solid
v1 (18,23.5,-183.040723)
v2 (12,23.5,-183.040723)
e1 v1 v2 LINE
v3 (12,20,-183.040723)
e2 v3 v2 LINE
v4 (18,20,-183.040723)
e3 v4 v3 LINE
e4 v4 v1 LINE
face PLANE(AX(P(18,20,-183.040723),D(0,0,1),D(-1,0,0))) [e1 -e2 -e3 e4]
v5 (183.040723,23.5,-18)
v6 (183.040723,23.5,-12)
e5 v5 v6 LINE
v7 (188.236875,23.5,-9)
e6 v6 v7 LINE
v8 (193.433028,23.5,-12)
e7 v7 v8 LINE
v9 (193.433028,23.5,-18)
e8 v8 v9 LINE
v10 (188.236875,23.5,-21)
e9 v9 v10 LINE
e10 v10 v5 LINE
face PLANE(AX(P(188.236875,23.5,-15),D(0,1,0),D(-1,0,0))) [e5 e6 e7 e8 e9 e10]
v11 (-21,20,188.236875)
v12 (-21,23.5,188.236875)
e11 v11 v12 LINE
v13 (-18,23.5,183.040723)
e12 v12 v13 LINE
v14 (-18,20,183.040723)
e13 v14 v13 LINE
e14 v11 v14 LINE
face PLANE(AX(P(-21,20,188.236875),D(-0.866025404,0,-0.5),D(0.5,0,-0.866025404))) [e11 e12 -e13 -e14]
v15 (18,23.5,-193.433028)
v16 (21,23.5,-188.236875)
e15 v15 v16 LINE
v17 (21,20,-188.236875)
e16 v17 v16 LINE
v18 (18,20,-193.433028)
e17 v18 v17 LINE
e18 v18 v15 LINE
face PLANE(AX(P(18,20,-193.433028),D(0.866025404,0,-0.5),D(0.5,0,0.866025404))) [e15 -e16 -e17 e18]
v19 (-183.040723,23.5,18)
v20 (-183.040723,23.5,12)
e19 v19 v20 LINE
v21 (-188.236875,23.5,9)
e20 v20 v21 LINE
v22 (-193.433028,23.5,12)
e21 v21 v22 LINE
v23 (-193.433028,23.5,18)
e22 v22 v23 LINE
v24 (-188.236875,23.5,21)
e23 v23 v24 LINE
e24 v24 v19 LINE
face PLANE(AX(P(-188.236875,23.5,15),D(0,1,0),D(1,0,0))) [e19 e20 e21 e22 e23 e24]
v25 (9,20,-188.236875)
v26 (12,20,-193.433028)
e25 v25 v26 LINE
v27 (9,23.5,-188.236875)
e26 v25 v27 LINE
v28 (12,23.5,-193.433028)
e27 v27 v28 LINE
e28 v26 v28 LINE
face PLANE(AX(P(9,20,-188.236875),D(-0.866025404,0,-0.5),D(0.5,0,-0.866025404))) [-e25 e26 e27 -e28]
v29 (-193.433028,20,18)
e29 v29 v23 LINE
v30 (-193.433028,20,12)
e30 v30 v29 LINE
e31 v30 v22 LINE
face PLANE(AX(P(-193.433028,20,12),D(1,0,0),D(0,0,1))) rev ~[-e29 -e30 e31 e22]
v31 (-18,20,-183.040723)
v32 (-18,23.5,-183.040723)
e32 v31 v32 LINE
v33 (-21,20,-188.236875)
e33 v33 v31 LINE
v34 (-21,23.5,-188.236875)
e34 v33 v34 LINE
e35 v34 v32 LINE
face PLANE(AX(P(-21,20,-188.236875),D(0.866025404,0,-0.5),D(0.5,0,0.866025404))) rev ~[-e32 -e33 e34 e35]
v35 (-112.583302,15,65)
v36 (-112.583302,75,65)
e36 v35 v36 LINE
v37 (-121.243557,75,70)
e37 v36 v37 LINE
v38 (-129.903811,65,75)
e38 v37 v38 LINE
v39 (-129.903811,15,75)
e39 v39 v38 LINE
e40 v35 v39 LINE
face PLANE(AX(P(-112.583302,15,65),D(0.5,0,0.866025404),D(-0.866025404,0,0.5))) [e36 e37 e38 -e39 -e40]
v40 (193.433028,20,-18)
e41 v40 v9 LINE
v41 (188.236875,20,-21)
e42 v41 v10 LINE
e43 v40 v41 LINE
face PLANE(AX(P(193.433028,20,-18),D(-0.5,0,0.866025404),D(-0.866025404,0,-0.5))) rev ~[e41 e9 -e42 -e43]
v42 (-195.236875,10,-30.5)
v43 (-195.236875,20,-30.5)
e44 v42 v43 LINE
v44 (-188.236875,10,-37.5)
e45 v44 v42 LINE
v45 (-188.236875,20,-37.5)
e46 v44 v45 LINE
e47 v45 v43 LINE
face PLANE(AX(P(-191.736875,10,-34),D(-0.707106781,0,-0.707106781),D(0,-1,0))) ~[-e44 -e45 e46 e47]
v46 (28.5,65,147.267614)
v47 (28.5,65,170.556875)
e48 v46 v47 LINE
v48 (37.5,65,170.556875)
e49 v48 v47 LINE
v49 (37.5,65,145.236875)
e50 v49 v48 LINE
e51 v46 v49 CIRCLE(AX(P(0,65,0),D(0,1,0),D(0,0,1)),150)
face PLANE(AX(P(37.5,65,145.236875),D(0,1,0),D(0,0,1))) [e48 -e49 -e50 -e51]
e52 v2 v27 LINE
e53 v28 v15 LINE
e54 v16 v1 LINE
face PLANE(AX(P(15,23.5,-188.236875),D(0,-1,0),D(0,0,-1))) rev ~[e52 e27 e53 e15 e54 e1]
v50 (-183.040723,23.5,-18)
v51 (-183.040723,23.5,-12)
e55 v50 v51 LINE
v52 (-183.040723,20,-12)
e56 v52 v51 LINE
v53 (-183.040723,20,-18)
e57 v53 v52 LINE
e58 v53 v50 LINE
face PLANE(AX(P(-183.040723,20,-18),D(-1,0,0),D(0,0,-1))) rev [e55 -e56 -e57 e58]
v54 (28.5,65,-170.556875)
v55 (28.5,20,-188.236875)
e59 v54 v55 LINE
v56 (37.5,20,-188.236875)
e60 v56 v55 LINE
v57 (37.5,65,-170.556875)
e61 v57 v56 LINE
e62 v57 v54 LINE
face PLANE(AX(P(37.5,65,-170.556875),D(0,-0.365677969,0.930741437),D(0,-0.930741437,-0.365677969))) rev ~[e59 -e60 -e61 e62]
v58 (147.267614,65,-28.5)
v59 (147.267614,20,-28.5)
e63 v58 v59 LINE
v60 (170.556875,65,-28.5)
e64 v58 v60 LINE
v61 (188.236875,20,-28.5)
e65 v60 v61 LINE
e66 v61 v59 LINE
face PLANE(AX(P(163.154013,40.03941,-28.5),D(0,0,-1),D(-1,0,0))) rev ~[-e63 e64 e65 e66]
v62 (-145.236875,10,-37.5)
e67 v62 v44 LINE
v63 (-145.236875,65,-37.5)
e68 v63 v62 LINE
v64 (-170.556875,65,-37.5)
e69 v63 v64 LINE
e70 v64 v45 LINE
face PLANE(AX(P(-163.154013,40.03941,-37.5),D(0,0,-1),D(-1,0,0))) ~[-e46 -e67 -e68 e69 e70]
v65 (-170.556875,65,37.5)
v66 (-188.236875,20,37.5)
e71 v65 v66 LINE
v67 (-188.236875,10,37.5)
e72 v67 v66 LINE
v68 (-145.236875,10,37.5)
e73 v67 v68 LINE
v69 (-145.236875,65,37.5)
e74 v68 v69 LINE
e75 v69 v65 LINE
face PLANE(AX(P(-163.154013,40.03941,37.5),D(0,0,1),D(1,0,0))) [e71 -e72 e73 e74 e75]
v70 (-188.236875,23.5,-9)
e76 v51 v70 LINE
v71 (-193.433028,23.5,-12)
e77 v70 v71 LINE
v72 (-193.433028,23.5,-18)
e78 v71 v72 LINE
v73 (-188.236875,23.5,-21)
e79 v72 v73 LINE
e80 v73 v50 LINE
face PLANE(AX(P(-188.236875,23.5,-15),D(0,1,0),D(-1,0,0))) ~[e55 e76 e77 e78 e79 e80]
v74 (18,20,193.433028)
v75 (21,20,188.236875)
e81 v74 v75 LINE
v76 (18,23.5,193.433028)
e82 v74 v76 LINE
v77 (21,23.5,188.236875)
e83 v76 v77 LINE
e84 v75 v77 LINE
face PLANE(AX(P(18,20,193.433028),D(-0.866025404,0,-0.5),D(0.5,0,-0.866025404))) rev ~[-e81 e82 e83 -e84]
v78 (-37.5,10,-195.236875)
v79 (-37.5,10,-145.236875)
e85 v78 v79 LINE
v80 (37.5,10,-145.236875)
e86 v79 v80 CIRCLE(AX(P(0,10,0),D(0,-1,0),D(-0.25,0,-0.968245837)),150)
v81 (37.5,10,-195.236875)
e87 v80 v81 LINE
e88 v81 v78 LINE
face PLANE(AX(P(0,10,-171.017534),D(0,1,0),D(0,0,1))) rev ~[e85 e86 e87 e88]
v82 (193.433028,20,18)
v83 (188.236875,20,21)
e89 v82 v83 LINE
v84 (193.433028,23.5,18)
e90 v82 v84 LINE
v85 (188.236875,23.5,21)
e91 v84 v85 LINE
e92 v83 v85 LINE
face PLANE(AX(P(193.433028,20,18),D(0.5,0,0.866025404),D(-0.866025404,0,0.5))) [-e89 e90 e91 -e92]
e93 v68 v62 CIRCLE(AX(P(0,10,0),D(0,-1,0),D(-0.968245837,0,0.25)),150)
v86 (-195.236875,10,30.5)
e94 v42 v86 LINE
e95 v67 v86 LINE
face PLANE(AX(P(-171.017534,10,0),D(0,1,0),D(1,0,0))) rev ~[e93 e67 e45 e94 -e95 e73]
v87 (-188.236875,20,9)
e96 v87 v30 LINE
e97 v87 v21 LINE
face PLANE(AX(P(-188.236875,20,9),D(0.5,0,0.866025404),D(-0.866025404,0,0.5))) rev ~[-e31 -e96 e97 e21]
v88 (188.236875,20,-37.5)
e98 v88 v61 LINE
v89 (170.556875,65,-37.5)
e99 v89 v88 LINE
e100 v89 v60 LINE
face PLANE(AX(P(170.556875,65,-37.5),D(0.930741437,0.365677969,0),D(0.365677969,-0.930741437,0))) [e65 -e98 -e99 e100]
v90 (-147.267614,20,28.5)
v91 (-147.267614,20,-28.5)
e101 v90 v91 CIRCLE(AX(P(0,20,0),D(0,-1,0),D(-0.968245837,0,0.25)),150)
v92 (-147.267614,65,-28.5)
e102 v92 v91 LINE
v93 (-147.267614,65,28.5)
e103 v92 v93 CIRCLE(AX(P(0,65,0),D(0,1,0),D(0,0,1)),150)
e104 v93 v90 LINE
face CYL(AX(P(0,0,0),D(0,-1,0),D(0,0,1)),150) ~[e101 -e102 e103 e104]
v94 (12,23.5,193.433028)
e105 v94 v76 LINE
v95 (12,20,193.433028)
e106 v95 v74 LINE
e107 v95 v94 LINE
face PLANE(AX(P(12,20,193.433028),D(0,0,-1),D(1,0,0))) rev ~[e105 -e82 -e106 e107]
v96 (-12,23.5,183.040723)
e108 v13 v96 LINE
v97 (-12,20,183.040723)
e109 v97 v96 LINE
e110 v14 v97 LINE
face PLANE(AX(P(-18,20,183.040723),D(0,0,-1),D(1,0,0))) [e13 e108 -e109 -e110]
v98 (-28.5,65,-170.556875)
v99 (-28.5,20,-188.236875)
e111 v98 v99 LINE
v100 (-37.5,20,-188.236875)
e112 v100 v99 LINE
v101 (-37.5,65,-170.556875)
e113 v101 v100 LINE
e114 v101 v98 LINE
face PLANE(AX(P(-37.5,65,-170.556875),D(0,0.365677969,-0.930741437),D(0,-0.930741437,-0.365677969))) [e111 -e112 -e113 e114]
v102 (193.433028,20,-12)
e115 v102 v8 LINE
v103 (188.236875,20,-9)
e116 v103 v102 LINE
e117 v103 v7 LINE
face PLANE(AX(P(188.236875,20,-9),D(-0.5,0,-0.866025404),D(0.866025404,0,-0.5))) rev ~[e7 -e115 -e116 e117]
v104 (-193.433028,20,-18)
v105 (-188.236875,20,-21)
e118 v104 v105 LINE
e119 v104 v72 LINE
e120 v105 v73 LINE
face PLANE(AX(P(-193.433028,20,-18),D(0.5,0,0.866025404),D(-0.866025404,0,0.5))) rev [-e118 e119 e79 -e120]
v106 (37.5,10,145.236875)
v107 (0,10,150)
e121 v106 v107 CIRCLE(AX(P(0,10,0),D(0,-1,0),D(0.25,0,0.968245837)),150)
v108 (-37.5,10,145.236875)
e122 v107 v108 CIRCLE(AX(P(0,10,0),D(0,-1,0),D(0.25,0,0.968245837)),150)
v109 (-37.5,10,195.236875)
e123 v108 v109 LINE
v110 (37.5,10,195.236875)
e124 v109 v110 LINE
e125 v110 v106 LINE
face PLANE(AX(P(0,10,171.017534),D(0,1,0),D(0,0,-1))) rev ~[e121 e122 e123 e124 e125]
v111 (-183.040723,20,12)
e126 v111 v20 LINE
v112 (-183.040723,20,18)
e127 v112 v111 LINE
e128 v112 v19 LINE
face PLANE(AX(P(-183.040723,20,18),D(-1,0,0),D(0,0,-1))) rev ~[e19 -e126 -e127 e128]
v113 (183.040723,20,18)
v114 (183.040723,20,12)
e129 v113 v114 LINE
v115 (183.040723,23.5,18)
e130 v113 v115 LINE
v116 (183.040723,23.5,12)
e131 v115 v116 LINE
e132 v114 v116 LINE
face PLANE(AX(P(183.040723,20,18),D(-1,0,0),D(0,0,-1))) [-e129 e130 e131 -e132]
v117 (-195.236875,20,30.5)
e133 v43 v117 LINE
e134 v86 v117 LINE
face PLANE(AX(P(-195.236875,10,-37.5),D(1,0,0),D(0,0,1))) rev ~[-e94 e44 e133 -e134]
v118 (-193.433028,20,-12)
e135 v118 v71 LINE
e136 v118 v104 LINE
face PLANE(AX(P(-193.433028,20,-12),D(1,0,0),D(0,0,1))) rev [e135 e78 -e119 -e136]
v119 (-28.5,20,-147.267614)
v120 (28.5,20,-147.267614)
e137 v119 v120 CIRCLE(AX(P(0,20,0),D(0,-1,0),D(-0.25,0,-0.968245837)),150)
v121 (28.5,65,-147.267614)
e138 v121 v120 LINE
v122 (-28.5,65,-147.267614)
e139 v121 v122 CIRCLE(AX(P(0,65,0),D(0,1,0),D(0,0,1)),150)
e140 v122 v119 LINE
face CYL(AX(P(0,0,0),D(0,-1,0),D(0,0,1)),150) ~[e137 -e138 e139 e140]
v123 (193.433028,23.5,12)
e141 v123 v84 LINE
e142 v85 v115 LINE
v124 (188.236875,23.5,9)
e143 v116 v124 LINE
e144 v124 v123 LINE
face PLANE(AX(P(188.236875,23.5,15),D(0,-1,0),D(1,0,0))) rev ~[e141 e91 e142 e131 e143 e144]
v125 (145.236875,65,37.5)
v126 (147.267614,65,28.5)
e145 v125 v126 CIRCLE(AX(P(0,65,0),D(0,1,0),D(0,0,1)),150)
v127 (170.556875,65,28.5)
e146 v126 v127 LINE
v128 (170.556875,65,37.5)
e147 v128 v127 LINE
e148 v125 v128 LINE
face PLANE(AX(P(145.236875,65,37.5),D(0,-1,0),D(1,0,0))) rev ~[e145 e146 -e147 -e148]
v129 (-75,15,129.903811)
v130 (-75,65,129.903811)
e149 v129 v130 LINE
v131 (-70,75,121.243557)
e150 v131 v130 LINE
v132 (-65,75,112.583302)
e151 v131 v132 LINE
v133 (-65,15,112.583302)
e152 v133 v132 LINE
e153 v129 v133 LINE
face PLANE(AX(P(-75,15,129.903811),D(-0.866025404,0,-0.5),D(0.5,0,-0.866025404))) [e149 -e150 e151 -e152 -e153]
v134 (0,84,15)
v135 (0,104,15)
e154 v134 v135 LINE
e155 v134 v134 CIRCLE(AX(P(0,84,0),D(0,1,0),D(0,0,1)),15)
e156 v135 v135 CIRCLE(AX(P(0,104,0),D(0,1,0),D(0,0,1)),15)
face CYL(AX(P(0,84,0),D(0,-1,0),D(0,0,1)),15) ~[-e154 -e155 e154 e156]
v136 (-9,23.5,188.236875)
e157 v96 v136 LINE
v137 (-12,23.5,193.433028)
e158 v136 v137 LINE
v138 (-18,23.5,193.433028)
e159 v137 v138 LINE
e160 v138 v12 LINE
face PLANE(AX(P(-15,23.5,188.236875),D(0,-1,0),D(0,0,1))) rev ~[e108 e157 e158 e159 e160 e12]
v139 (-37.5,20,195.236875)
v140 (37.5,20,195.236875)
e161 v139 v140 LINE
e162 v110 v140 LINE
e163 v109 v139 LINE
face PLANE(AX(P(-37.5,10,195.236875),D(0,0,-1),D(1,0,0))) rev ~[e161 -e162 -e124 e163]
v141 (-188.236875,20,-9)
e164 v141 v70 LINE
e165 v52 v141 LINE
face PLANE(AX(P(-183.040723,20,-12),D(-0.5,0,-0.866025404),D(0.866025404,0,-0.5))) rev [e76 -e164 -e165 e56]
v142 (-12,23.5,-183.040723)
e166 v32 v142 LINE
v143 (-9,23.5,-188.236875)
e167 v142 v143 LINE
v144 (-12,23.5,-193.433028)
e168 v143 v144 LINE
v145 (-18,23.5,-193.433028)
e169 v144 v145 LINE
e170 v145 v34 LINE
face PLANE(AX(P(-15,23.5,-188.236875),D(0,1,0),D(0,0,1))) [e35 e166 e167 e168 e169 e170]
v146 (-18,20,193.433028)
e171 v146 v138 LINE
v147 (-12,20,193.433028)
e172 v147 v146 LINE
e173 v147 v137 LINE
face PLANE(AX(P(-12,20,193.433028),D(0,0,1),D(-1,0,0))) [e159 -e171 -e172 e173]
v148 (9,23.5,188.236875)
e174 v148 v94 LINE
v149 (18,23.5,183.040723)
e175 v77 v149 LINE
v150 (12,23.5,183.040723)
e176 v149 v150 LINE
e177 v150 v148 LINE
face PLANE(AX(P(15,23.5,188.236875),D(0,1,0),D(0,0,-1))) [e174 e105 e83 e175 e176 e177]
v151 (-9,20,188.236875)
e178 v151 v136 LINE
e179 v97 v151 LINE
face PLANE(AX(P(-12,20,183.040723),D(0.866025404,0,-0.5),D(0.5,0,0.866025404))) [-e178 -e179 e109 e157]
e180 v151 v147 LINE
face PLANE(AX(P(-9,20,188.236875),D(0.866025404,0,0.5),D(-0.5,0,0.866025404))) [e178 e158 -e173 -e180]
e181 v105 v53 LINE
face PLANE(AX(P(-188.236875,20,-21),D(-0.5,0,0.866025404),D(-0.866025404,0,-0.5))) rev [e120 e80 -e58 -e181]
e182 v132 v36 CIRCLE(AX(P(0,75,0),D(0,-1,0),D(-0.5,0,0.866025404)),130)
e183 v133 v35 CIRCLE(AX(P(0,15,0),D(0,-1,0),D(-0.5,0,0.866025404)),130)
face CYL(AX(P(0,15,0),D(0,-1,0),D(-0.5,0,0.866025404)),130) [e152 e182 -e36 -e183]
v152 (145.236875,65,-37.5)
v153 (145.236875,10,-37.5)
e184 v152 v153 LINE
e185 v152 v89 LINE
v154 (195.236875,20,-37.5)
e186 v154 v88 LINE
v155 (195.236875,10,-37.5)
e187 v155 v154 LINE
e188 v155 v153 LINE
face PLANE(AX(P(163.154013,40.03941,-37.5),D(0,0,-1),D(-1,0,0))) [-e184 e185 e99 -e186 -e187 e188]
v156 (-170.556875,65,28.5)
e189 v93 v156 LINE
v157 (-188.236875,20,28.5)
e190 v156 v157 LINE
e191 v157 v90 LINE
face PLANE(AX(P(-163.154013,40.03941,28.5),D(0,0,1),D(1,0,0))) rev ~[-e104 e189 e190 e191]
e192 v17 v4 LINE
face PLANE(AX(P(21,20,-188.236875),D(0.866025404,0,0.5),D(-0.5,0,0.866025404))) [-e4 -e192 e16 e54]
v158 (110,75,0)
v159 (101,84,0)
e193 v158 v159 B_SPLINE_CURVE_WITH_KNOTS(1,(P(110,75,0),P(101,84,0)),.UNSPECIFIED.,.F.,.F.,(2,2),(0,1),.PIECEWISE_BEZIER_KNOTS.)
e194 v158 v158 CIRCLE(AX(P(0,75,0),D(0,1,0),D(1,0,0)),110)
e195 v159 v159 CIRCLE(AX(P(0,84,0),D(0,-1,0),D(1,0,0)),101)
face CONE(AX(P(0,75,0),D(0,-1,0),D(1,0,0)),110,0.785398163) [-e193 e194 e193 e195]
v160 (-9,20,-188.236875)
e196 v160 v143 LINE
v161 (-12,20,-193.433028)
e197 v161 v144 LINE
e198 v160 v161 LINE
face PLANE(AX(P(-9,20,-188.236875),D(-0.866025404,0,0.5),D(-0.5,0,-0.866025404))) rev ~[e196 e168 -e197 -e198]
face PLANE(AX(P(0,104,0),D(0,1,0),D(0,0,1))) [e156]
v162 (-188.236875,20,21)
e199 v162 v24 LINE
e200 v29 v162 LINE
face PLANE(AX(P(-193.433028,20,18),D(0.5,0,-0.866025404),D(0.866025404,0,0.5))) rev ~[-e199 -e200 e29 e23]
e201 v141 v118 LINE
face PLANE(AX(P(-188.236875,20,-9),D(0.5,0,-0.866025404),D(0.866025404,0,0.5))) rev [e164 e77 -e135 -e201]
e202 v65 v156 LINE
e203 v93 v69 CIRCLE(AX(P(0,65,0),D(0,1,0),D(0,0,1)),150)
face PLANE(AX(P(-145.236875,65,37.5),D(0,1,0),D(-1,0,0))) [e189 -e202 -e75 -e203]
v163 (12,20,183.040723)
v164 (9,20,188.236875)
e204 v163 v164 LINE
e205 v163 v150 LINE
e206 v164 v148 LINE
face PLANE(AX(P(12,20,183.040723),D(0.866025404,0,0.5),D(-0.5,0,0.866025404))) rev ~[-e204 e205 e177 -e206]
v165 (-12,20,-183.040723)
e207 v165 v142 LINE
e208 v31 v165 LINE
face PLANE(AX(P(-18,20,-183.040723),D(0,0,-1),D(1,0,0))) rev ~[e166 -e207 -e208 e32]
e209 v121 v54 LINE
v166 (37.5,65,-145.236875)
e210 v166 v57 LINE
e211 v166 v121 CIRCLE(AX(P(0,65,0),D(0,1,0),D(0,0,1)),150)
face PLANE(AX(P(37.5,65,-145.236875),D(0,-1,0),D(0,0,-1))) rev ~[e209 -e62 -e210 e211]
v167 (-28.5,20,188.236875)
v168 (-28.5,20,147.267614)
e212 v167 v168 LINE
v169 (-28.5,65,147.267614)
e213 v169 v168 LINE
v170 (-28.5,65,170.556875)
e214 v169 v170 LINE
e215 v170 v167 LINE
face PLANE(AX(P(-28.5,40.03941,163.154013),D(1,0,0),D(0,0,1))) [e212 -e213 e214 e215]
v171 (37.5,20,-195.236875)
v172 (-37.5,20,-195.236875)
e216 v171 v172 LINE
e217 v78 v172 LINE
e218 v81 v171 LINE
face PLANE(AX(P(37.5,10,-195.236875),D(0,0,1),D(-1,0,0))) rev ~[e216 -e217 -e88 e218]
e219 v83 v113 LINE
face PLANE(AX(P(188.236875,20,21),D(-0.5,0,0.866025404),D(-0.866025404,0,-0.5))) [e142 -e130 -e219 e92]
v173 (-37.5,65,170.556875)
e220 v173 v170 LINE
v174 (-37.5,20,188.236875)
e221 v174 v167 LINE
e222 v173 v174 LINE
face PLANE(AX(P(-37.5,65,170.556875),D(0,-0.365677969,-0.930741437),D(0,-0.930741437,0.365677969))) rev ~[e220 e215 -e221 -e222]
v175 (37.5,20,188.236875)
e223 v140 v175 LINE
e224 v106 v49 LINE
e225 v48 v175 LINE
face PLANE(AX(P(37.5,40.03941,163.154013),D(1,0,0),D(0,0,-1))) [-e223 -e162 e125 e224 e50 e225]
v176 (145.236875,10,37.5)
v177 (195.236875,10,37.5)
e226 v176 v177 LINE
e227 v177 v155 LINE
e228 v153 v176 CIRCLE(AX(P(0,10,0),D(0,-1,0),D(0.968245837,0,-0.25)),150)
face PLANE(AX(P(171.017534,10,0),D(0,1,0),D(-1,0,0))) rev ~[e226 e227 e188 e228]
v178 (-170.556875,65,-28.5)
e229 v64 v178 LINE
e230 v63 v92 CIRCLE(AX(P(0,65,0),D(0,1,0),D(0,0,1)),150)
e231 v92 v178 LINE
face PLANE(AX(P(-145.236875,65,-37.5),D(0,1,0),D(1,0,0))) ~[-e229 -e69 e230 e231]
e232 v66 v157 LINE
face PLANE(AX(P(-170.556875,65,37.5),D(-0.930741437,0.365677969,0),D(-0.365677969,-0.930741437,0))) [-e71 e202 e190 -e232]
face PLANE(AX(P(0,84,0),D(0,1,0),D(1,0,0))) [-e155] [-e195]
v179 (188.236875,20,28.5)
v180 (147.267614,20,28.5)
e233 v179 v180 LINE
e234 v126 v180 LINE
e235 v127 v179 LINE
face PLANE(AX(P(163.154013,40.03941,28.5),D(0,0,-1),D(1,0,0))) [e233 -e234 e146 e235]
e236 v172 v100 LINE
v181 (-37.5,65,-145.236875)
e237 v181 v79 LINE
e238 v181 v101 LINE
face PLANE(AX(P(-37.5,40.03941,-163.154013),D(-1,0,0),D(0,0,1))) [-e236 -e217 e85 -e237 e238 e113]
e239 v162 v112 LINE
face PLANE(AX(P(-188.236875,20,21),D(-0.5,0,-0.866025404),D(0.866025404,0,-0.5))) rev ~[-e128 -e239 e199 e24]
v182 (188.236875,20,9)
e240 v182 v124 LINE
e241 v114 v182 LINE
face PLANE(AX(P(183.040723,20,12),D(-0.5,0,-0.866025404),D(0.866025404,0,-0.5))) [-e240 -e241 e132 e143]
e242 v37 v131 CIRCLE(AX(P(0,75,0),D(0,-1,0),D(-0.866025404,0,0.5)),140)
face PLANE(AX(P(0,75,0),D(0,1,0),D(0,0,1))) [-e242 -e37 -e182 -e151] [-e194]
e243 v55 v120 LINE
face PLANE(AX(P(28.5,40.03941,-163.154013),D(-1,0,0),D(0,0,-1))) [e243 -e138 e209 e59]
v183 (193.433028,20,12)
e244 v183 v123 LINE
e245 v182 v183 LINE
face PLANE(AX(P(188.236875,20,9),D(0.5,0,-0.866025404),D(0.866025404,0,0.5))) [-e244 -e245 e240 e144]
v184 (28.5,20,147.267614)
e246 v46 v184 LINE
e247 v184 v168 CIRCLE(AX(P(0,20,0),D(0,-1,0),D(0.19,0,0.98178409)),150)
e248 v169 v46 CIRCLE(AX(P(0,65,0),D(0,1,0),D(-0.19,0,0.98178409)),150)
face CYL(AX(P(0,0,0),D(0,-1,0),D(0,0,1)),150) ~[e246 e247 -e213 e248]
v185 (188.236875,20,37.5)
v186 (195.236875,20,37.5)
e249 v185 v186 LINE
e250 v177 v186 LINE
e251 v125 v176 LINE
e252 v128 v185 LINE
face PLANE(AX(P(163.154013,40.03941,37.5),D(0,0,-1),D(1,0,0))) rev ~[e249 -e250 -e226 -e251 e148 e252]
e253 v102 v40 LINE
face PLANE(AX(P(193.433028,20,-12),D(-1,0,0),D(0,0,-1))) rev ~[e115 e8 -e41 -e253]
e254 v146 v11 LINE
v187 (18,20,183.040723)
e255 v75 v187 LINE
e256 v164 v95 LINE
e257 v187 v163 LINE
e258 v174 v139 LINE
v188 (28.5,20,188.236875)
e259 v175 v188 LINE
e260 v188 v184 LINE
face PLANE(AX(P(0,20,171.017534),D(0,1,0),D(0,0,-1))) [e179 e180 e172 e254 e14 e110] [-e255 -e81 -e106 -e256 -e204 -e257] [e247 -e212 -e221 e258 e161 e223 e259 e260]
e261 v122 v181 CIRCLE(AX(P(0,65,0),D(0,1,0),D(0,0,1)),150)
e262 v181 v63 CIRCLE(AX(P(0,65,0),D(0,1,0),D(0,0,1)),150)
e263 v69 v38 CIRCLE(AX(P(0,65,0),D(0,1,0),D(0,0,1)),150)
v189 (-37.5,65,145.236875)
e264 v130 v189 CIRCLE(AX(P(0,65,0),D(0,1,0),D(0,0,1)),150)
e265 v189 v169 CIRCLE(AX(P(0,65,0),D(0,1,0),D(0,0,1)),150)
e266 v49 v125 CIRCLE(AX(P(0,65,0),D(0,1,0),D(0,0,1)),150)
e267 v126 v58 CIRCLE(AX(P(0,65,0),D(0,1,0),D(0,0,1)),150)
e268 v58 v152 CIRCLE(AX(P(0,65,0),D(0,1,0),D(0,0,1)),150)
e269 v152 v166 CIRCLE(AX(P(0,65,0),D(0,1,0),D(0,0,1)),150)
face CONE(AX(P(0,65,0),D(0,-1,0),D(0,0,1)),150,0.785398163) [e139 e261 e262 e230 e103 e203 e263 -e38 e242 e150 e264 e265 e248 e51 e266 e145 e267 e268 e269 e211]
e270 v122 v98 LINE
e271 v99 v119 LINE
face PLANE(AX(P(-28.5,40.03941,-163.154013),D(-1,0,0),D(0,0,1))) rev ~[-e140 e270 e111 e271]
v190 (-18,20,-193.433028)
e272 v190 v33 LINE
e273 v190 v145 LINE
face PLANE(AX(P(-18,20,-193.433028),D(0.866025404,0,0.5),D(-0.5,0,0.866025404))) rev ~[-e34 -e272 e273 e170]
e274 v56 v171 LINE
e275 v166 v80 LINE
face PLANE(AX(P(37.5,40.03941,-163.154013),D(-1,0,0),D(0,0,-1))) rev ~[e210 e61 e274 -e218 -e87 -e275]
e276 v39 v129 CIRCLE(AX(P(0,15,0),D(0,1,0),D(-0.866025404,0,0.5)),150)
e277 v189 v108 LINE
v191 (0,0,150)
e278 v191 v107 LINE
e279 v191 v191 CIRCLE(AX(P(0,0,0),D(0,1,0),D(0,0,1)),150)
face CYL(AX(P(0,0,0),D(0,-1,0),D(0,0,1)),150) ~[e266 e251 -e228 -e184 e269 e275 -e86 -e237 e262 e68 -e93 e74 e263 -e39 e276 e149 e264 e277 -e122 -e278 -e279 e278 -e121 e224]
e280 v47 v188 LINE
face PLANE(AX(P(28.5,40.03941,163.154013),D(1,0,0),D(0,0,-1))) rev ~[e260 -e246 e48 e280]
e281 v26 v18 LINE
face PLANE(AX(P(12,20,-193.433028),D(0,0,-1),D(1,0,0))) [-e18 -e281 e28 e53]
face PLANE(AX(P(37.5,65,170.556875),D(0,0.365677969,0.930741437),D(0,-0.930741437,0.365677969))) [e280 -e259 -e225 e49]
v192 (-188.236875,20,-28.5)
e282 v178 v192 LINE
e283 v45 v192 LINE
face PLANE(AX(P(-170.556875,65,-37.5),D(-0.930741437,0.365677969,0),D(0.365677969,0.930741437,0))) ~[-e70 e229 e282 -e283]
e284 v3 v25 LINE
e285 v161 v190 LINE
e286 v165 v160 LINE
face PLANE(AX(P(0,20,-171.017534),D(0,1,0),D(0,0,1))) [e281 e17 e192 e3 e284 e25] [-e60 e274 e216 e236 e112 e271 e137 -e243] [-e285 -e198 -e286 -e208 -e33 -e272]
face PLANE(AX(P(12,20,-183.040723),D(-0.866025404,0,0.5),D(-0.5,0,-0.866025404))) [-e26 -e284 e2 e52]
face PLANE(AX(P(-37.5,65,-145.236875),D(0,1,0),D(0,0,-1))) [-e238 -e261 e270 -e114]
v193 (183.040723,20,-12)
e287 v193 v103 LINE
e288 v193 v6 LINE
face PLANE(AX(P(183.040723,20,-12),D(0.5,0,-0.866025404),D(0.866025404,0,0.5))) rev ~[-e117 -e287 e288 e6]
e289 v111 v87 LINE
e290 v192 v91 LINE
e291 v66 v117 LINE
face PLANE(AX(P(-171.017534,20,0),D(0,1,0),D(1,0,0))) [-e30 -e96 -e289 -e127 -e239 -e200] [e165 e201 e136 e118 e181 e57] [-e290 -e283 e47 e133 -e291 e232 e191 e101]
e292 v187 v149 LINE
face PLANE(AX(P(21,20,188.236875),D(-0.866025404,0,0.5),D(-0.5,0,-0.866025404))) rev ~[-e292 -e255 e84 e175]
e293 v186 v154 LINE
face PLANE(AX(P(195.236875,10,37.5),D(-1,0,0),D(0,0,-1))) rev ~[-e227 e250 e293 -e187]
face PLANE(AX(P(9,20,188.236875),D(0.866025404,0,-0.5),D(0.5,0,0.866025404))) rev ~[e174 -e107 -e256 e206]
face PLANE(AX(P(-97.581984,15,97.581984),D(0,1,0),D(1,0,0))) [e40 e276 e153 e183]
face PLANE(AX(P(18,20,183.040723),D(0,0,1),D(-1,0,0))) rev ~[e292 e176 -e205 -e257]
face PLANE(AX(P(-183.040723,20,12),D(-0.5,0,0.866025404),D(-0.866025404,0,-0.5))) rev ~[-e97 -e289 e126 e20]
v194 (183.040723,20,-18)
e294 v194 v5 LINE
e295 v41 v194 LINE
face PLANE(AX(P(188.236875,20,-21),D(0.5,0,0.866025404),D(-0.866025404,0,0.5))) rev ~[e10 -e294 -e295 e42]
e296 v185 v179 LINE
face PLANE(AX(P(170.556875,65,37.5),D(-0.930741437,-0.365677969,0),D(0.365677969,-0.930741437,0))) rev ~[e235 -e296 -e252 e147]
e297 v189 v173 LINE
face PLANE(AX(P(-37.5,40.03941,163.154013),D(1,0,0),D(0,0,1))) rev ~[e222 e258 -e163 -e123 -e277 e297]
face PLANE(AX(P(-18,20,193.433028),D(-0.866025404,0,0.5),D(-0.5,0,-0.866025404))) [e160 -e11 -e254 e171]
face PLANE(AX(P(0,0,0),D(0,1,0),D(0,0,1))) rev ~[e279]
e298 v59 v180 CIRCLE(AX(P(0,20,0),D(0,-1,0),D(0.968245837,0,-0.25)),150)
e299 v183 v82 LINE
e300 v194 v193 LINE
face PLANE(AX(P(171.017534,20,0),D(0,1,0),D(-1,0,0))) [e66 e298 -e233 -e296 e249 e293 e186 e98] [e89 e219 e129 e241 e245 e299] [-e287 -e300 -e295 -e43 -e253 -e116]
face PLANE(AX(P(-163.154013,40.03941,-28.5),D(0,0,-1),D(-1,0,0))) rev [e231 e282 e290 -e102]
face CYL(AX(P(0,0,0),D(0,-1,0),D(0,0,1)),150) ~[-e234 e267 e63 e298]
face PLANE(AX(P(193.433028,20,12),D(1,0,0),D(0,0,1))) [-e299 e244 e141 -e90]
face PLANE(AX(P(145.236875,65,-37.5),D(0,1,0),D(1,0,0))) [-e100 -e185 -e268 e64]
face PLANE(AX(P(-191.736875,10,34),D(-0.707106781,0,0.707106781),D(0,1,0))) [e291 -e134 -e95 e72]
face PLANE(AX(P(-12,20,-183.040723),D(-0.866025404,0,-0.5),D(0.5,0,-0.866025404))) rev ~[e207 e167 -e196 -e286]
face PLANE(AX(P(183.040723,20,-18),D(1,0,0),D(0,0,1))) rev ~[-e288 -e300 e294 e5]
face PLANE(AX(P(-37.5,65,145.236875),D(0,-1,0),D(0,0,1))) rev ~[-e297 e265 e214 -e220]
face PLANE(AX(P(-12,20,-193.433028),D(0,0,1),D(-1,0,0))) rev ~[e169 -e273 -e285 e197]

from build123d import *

# Parameters (mm, degrees)
SKETCH1_R                = 150
BOSS_EXTRUDE1_DEPTH      = 75
CHAMFER1_SIZE            = 10
BOSS_EXTRUDE2_START      = -65
BOSS_EXTRUDE2_DEPTH      = 10
CHAMFER2_SIZE            = 7
BOSS_EXTRUDE3_DEPTH      = 9
BOSS_EXTRUDE4_DEPTH      = 3.5
CIRPATTERN1_COUNT        = 4
CIRPATTERN1_COPY_1_DEPTH = 9
CIRPATTERN1_COPY_2_DEPTH = 9
CIRPATTERN1_COPY_3_DEPTH = 9
CIRPATTERN1_COPY_4_DEPTH = 3.5
CIRPATTERN1_COPY_5_DEPTH = 3.5
CIRPATTERN1_COPY_6_DEPTH = 3.5
CUT_EXTRUDE1_START       = -60
CUT_EXTRUDE1_DEPTH       = 60
SKETCH6_R                = 110
BOSS_EXTRUDE5_DEPTH      = 9
BOSS_EXTRUDE5_TAPER      = 45
SKETCH7_R                = 15
BOSS_EXTRUDE6_DEPTH      = 20


with BuildPart() as part:
    # Sketch1 → Boss-Extrude1 (new body)
    with BuildSketch(Plane(origin=(0, 0, 0), x_dir=(1, 0, 0), z_dir=(0, 1, 0))):
        with Locations(Location((0, 0, 0), (0, 0, 270))):
            Circle(SKETCH1_R)
    extrude(amount=BOSS_EXTRUDE1_DEPTH)

    # Chamfer1
    chamfer1_edges = [part.edges().sort_by_distance(p)[0] for p in [
        (0, 75, -150),
    ]]
    chamfer(chamfer1_edges, length=CHAMFER1_SIZE)

    # Sketch2 → Boss-Extrude2 (add)
    with BuildSketch(Plane(origin=(0, 75, 0), x_dir=(1, 0, 0), z_dir=(0, 1, 0)).offset(BOSS_EXTRUDE2_START)):
        with BuildLine():
            Line((-145.236875483, 37.5), (-195.236875483, 37.5))
            Line((-195.236875483, 37.5), (-195.236875483, -37.5))
            Line((-195.236875483, -37.5), (-145.236875483, -37.5))
            ThreePointArc((-145.236875483, -37.5), (-150, 0), (-145.236875483, 37.5))
        make_face()
    boss_extrude2 = extrude(amount=BOSS_EXTRUDE2_DEPTH)

    # Chamfer2
    chamfer2_edges = [part.edges().sort_by_distance(p)[0] for p in [
        (-195.236875483, 15, -37.5),
        (-195.236875483, 15, 37.5),
    ]]
    chamfer(chamfer2_edges, length=CHAMFER2_SIZE)

    # Sketch3 → Boss-Extrude3 (add)
    with BuildSketch(Plane.XY.offset(37.5)):
        Polygon((-145.236875483, 20), (-145.236875483, 65), (-170.556875483, 65), (-188.236875483, 20), align=None)
    boss_extrude3 = extrude(amount=-BOSS_EXTRUDE3_DEPTH)

    # Sketch4 → Boss-Extrude4 (add)
    with BuildSketch(Plane(origin=(0, 20, 0), x_dir=(1, 0, 0), z_dir=(0, 1, 0))):
        Polygon((-183.04072306, -12), (-188.236875483, -9), (-193.433027905, -12), (-193.433027905, -18), (-188.236875483, -21), (-183.04072306, -18), align=None)
    boss_extrude4 = extrude(amount=BOSS_EXTRUDE4_DEPTH)

    # Mirror1: Boss-Extrude3, Boss-Extrude4 across plane
    add(boss_extrude3.mirror(Plane.XY))
    add(boss_extrude4.mirror(Plane.XY))

    # CirPattern1: Boss-Extrude2, Boss-Extrude3, Boss-Extrude4 ×4 about axis
    cirpattern1_axis = Axis((0, 0, 0), (0, 1, 0))
    add([boss_extrude2.rotate(cirpattern1_axis, i * 360 / CIRPATTERN1_COUNT) for i in range(1, CIRPATTERN1_COUNT)])
    add([boss_extrude3.rotate(cirpattern1_axis, i * 360 / CIRPATTERN1_COUNT) for i in range(1, CIRPATTERN1_COUNT)])
    add([boss_extrude4.rotate(cirpattern1_axis, i * 360 / CIRPATTERN1_COUNT) for i in range(1, CIRPATTERN1_COUNT)])

    # CirPattern1 copy 1 sketch → CirPattern1 copy 1 (add)
    with BuildSketch(Plane(origin=(-37.5, 0, 0), x_dir=(0, 0, -1), z_dir=(-1, 0, 0))):
        Polygon((-145.236875483, -20), (-145.236875483, -65), (-170.556875483, -65), (-188.236875483, -20), align=None)
    extrude(amount=-CIRPATTERN1_COPY_1_DEPTH)

    # CirPattern1 copy 2 sketch → CirPattern1 copy 2 (add)
    with BuildSketch(Plane(origin=(0, 0, 37.5), x_dir=(-1, 0, 0), z_dir=(0, 0, 1))):
        Polygon((-145.236875483, -20), (-145.236875483, -65), (-170.556875483, -65), (-188.236875483, -20), align=None)
    extrude(amount=-CIRPATTERN1_COPY_2_DEPTH)

    # CirPattern1 copy 3 sketch → CirPattern1 copy 3 (add)
    with BuildSketch(Plane(origin=(37.5, 0, 0), x_dir=(0, 0, 1), z_dir=(1, 0, 0))):
        Polygon((-145.236875483, -20), (-145.236875483, -65), (-170.556875483, -65), (-188.236875483, -20), align=None)
    extrude(amount=-CIRPATTERN1_COPY_3_DEPTH)

    # CirPattern1 copy 4 sketch → CirPattern1 copy 4 (add)
    with BuildSketch(Plane(origin=(0, 20, 0), x_dir=(0, 0, -1), z_dir=(0, 1, 0))):
        Polygon((-183.04072306, 12), (-188.236875483, 9), (-193.433027905, 12), (-193.433027905, 18), (-188.236875483, 21), (-183.04072306, 18), align=None)
    extrude(amount=CIRPATTERN1_COPY_4_DEPTH)

    # CirPattern1 copy 5 sketch → CirPattern1 copy 5 (add)
    with BuildSketch(Plane(origin=(0, 20, 0), x_dir=(-1, 0, 0), z_dir=(0, 1, 0))):
        Polygon((-183.04072306, 12), (-188.236875483, 9), (-193.433027905, 12), (-193.433027905, 18), (-188.236875483, 21), (-183.04072306, 18), align=None)
    extrude(amount=CIRPATTERN1_COPY_5_DEPTH)

    # CirPattern1 copy 6 sketch → CirPattern1 copy 6 (add)
    with BuildSketch(Plane.ZX.offset(20)):
        Polygon((-183.04072306, 12), (-188.236875483, 9), (-193.433027905, 12), (-193.433027905, 18), (-188.236875483, 21), (-183.04072306, 18), align=None)
    extrude(amount=CIRPATTERN1_COPY_6_DEPTH)

    # Sketch5 → Cut-Extrude1 (cut)
    with BuildSketch(Plane(origin=(0, 75, 0), x_dir=(1, 0, 0), z_dir=(0, 1, 0)).offset(CUT_EXTRUDE1_START)):
        with BuildLine():
            Line((-112.583302492, -65), (-129.903810568, -75))
            ThreePointArc((-129.903810568, -75), (-106.066017178, -106.066017178), (-75, -129.903810568))
            Line((-75, -129.903810568), (-65, -112.583302492))
            ThreePointArc((-65, -112.583302492), (-91.923881554, -91.923881554), (-112.583302492, -65))
        make_face()
    extrude(amount=CUT_EXTRUDE1_DEPTH, mode=Mode.SUBTRACT)

    # Sketch6 → Boss-Extrude5 (add)
    with BuildSketch(Plane(origin=(0, 75, 0), x_dir=(1, 0, 0), z_dir=(0, 1, 0))):
        Circle(SKETCH6_R)
    extrude(amount=BOSS_EXTRUDE5_DEPTH, taper=BOSS_EXTRUDE5_TAPER)

    # Sketch7 → Boss-Extrude6 (add)
    with BuildSketch(Plane(origin=(0, 84, 0), x_dir=(1, 0, 0), z_dir=(0, 1, 0))):
        with Locations(Location((0, 0, 0), (0, 0, 270))):
            Circle(SKETCH7_R)
    extrude(amount=BOSS_EXTRUDE6_DEPTH)


solid = part.part
